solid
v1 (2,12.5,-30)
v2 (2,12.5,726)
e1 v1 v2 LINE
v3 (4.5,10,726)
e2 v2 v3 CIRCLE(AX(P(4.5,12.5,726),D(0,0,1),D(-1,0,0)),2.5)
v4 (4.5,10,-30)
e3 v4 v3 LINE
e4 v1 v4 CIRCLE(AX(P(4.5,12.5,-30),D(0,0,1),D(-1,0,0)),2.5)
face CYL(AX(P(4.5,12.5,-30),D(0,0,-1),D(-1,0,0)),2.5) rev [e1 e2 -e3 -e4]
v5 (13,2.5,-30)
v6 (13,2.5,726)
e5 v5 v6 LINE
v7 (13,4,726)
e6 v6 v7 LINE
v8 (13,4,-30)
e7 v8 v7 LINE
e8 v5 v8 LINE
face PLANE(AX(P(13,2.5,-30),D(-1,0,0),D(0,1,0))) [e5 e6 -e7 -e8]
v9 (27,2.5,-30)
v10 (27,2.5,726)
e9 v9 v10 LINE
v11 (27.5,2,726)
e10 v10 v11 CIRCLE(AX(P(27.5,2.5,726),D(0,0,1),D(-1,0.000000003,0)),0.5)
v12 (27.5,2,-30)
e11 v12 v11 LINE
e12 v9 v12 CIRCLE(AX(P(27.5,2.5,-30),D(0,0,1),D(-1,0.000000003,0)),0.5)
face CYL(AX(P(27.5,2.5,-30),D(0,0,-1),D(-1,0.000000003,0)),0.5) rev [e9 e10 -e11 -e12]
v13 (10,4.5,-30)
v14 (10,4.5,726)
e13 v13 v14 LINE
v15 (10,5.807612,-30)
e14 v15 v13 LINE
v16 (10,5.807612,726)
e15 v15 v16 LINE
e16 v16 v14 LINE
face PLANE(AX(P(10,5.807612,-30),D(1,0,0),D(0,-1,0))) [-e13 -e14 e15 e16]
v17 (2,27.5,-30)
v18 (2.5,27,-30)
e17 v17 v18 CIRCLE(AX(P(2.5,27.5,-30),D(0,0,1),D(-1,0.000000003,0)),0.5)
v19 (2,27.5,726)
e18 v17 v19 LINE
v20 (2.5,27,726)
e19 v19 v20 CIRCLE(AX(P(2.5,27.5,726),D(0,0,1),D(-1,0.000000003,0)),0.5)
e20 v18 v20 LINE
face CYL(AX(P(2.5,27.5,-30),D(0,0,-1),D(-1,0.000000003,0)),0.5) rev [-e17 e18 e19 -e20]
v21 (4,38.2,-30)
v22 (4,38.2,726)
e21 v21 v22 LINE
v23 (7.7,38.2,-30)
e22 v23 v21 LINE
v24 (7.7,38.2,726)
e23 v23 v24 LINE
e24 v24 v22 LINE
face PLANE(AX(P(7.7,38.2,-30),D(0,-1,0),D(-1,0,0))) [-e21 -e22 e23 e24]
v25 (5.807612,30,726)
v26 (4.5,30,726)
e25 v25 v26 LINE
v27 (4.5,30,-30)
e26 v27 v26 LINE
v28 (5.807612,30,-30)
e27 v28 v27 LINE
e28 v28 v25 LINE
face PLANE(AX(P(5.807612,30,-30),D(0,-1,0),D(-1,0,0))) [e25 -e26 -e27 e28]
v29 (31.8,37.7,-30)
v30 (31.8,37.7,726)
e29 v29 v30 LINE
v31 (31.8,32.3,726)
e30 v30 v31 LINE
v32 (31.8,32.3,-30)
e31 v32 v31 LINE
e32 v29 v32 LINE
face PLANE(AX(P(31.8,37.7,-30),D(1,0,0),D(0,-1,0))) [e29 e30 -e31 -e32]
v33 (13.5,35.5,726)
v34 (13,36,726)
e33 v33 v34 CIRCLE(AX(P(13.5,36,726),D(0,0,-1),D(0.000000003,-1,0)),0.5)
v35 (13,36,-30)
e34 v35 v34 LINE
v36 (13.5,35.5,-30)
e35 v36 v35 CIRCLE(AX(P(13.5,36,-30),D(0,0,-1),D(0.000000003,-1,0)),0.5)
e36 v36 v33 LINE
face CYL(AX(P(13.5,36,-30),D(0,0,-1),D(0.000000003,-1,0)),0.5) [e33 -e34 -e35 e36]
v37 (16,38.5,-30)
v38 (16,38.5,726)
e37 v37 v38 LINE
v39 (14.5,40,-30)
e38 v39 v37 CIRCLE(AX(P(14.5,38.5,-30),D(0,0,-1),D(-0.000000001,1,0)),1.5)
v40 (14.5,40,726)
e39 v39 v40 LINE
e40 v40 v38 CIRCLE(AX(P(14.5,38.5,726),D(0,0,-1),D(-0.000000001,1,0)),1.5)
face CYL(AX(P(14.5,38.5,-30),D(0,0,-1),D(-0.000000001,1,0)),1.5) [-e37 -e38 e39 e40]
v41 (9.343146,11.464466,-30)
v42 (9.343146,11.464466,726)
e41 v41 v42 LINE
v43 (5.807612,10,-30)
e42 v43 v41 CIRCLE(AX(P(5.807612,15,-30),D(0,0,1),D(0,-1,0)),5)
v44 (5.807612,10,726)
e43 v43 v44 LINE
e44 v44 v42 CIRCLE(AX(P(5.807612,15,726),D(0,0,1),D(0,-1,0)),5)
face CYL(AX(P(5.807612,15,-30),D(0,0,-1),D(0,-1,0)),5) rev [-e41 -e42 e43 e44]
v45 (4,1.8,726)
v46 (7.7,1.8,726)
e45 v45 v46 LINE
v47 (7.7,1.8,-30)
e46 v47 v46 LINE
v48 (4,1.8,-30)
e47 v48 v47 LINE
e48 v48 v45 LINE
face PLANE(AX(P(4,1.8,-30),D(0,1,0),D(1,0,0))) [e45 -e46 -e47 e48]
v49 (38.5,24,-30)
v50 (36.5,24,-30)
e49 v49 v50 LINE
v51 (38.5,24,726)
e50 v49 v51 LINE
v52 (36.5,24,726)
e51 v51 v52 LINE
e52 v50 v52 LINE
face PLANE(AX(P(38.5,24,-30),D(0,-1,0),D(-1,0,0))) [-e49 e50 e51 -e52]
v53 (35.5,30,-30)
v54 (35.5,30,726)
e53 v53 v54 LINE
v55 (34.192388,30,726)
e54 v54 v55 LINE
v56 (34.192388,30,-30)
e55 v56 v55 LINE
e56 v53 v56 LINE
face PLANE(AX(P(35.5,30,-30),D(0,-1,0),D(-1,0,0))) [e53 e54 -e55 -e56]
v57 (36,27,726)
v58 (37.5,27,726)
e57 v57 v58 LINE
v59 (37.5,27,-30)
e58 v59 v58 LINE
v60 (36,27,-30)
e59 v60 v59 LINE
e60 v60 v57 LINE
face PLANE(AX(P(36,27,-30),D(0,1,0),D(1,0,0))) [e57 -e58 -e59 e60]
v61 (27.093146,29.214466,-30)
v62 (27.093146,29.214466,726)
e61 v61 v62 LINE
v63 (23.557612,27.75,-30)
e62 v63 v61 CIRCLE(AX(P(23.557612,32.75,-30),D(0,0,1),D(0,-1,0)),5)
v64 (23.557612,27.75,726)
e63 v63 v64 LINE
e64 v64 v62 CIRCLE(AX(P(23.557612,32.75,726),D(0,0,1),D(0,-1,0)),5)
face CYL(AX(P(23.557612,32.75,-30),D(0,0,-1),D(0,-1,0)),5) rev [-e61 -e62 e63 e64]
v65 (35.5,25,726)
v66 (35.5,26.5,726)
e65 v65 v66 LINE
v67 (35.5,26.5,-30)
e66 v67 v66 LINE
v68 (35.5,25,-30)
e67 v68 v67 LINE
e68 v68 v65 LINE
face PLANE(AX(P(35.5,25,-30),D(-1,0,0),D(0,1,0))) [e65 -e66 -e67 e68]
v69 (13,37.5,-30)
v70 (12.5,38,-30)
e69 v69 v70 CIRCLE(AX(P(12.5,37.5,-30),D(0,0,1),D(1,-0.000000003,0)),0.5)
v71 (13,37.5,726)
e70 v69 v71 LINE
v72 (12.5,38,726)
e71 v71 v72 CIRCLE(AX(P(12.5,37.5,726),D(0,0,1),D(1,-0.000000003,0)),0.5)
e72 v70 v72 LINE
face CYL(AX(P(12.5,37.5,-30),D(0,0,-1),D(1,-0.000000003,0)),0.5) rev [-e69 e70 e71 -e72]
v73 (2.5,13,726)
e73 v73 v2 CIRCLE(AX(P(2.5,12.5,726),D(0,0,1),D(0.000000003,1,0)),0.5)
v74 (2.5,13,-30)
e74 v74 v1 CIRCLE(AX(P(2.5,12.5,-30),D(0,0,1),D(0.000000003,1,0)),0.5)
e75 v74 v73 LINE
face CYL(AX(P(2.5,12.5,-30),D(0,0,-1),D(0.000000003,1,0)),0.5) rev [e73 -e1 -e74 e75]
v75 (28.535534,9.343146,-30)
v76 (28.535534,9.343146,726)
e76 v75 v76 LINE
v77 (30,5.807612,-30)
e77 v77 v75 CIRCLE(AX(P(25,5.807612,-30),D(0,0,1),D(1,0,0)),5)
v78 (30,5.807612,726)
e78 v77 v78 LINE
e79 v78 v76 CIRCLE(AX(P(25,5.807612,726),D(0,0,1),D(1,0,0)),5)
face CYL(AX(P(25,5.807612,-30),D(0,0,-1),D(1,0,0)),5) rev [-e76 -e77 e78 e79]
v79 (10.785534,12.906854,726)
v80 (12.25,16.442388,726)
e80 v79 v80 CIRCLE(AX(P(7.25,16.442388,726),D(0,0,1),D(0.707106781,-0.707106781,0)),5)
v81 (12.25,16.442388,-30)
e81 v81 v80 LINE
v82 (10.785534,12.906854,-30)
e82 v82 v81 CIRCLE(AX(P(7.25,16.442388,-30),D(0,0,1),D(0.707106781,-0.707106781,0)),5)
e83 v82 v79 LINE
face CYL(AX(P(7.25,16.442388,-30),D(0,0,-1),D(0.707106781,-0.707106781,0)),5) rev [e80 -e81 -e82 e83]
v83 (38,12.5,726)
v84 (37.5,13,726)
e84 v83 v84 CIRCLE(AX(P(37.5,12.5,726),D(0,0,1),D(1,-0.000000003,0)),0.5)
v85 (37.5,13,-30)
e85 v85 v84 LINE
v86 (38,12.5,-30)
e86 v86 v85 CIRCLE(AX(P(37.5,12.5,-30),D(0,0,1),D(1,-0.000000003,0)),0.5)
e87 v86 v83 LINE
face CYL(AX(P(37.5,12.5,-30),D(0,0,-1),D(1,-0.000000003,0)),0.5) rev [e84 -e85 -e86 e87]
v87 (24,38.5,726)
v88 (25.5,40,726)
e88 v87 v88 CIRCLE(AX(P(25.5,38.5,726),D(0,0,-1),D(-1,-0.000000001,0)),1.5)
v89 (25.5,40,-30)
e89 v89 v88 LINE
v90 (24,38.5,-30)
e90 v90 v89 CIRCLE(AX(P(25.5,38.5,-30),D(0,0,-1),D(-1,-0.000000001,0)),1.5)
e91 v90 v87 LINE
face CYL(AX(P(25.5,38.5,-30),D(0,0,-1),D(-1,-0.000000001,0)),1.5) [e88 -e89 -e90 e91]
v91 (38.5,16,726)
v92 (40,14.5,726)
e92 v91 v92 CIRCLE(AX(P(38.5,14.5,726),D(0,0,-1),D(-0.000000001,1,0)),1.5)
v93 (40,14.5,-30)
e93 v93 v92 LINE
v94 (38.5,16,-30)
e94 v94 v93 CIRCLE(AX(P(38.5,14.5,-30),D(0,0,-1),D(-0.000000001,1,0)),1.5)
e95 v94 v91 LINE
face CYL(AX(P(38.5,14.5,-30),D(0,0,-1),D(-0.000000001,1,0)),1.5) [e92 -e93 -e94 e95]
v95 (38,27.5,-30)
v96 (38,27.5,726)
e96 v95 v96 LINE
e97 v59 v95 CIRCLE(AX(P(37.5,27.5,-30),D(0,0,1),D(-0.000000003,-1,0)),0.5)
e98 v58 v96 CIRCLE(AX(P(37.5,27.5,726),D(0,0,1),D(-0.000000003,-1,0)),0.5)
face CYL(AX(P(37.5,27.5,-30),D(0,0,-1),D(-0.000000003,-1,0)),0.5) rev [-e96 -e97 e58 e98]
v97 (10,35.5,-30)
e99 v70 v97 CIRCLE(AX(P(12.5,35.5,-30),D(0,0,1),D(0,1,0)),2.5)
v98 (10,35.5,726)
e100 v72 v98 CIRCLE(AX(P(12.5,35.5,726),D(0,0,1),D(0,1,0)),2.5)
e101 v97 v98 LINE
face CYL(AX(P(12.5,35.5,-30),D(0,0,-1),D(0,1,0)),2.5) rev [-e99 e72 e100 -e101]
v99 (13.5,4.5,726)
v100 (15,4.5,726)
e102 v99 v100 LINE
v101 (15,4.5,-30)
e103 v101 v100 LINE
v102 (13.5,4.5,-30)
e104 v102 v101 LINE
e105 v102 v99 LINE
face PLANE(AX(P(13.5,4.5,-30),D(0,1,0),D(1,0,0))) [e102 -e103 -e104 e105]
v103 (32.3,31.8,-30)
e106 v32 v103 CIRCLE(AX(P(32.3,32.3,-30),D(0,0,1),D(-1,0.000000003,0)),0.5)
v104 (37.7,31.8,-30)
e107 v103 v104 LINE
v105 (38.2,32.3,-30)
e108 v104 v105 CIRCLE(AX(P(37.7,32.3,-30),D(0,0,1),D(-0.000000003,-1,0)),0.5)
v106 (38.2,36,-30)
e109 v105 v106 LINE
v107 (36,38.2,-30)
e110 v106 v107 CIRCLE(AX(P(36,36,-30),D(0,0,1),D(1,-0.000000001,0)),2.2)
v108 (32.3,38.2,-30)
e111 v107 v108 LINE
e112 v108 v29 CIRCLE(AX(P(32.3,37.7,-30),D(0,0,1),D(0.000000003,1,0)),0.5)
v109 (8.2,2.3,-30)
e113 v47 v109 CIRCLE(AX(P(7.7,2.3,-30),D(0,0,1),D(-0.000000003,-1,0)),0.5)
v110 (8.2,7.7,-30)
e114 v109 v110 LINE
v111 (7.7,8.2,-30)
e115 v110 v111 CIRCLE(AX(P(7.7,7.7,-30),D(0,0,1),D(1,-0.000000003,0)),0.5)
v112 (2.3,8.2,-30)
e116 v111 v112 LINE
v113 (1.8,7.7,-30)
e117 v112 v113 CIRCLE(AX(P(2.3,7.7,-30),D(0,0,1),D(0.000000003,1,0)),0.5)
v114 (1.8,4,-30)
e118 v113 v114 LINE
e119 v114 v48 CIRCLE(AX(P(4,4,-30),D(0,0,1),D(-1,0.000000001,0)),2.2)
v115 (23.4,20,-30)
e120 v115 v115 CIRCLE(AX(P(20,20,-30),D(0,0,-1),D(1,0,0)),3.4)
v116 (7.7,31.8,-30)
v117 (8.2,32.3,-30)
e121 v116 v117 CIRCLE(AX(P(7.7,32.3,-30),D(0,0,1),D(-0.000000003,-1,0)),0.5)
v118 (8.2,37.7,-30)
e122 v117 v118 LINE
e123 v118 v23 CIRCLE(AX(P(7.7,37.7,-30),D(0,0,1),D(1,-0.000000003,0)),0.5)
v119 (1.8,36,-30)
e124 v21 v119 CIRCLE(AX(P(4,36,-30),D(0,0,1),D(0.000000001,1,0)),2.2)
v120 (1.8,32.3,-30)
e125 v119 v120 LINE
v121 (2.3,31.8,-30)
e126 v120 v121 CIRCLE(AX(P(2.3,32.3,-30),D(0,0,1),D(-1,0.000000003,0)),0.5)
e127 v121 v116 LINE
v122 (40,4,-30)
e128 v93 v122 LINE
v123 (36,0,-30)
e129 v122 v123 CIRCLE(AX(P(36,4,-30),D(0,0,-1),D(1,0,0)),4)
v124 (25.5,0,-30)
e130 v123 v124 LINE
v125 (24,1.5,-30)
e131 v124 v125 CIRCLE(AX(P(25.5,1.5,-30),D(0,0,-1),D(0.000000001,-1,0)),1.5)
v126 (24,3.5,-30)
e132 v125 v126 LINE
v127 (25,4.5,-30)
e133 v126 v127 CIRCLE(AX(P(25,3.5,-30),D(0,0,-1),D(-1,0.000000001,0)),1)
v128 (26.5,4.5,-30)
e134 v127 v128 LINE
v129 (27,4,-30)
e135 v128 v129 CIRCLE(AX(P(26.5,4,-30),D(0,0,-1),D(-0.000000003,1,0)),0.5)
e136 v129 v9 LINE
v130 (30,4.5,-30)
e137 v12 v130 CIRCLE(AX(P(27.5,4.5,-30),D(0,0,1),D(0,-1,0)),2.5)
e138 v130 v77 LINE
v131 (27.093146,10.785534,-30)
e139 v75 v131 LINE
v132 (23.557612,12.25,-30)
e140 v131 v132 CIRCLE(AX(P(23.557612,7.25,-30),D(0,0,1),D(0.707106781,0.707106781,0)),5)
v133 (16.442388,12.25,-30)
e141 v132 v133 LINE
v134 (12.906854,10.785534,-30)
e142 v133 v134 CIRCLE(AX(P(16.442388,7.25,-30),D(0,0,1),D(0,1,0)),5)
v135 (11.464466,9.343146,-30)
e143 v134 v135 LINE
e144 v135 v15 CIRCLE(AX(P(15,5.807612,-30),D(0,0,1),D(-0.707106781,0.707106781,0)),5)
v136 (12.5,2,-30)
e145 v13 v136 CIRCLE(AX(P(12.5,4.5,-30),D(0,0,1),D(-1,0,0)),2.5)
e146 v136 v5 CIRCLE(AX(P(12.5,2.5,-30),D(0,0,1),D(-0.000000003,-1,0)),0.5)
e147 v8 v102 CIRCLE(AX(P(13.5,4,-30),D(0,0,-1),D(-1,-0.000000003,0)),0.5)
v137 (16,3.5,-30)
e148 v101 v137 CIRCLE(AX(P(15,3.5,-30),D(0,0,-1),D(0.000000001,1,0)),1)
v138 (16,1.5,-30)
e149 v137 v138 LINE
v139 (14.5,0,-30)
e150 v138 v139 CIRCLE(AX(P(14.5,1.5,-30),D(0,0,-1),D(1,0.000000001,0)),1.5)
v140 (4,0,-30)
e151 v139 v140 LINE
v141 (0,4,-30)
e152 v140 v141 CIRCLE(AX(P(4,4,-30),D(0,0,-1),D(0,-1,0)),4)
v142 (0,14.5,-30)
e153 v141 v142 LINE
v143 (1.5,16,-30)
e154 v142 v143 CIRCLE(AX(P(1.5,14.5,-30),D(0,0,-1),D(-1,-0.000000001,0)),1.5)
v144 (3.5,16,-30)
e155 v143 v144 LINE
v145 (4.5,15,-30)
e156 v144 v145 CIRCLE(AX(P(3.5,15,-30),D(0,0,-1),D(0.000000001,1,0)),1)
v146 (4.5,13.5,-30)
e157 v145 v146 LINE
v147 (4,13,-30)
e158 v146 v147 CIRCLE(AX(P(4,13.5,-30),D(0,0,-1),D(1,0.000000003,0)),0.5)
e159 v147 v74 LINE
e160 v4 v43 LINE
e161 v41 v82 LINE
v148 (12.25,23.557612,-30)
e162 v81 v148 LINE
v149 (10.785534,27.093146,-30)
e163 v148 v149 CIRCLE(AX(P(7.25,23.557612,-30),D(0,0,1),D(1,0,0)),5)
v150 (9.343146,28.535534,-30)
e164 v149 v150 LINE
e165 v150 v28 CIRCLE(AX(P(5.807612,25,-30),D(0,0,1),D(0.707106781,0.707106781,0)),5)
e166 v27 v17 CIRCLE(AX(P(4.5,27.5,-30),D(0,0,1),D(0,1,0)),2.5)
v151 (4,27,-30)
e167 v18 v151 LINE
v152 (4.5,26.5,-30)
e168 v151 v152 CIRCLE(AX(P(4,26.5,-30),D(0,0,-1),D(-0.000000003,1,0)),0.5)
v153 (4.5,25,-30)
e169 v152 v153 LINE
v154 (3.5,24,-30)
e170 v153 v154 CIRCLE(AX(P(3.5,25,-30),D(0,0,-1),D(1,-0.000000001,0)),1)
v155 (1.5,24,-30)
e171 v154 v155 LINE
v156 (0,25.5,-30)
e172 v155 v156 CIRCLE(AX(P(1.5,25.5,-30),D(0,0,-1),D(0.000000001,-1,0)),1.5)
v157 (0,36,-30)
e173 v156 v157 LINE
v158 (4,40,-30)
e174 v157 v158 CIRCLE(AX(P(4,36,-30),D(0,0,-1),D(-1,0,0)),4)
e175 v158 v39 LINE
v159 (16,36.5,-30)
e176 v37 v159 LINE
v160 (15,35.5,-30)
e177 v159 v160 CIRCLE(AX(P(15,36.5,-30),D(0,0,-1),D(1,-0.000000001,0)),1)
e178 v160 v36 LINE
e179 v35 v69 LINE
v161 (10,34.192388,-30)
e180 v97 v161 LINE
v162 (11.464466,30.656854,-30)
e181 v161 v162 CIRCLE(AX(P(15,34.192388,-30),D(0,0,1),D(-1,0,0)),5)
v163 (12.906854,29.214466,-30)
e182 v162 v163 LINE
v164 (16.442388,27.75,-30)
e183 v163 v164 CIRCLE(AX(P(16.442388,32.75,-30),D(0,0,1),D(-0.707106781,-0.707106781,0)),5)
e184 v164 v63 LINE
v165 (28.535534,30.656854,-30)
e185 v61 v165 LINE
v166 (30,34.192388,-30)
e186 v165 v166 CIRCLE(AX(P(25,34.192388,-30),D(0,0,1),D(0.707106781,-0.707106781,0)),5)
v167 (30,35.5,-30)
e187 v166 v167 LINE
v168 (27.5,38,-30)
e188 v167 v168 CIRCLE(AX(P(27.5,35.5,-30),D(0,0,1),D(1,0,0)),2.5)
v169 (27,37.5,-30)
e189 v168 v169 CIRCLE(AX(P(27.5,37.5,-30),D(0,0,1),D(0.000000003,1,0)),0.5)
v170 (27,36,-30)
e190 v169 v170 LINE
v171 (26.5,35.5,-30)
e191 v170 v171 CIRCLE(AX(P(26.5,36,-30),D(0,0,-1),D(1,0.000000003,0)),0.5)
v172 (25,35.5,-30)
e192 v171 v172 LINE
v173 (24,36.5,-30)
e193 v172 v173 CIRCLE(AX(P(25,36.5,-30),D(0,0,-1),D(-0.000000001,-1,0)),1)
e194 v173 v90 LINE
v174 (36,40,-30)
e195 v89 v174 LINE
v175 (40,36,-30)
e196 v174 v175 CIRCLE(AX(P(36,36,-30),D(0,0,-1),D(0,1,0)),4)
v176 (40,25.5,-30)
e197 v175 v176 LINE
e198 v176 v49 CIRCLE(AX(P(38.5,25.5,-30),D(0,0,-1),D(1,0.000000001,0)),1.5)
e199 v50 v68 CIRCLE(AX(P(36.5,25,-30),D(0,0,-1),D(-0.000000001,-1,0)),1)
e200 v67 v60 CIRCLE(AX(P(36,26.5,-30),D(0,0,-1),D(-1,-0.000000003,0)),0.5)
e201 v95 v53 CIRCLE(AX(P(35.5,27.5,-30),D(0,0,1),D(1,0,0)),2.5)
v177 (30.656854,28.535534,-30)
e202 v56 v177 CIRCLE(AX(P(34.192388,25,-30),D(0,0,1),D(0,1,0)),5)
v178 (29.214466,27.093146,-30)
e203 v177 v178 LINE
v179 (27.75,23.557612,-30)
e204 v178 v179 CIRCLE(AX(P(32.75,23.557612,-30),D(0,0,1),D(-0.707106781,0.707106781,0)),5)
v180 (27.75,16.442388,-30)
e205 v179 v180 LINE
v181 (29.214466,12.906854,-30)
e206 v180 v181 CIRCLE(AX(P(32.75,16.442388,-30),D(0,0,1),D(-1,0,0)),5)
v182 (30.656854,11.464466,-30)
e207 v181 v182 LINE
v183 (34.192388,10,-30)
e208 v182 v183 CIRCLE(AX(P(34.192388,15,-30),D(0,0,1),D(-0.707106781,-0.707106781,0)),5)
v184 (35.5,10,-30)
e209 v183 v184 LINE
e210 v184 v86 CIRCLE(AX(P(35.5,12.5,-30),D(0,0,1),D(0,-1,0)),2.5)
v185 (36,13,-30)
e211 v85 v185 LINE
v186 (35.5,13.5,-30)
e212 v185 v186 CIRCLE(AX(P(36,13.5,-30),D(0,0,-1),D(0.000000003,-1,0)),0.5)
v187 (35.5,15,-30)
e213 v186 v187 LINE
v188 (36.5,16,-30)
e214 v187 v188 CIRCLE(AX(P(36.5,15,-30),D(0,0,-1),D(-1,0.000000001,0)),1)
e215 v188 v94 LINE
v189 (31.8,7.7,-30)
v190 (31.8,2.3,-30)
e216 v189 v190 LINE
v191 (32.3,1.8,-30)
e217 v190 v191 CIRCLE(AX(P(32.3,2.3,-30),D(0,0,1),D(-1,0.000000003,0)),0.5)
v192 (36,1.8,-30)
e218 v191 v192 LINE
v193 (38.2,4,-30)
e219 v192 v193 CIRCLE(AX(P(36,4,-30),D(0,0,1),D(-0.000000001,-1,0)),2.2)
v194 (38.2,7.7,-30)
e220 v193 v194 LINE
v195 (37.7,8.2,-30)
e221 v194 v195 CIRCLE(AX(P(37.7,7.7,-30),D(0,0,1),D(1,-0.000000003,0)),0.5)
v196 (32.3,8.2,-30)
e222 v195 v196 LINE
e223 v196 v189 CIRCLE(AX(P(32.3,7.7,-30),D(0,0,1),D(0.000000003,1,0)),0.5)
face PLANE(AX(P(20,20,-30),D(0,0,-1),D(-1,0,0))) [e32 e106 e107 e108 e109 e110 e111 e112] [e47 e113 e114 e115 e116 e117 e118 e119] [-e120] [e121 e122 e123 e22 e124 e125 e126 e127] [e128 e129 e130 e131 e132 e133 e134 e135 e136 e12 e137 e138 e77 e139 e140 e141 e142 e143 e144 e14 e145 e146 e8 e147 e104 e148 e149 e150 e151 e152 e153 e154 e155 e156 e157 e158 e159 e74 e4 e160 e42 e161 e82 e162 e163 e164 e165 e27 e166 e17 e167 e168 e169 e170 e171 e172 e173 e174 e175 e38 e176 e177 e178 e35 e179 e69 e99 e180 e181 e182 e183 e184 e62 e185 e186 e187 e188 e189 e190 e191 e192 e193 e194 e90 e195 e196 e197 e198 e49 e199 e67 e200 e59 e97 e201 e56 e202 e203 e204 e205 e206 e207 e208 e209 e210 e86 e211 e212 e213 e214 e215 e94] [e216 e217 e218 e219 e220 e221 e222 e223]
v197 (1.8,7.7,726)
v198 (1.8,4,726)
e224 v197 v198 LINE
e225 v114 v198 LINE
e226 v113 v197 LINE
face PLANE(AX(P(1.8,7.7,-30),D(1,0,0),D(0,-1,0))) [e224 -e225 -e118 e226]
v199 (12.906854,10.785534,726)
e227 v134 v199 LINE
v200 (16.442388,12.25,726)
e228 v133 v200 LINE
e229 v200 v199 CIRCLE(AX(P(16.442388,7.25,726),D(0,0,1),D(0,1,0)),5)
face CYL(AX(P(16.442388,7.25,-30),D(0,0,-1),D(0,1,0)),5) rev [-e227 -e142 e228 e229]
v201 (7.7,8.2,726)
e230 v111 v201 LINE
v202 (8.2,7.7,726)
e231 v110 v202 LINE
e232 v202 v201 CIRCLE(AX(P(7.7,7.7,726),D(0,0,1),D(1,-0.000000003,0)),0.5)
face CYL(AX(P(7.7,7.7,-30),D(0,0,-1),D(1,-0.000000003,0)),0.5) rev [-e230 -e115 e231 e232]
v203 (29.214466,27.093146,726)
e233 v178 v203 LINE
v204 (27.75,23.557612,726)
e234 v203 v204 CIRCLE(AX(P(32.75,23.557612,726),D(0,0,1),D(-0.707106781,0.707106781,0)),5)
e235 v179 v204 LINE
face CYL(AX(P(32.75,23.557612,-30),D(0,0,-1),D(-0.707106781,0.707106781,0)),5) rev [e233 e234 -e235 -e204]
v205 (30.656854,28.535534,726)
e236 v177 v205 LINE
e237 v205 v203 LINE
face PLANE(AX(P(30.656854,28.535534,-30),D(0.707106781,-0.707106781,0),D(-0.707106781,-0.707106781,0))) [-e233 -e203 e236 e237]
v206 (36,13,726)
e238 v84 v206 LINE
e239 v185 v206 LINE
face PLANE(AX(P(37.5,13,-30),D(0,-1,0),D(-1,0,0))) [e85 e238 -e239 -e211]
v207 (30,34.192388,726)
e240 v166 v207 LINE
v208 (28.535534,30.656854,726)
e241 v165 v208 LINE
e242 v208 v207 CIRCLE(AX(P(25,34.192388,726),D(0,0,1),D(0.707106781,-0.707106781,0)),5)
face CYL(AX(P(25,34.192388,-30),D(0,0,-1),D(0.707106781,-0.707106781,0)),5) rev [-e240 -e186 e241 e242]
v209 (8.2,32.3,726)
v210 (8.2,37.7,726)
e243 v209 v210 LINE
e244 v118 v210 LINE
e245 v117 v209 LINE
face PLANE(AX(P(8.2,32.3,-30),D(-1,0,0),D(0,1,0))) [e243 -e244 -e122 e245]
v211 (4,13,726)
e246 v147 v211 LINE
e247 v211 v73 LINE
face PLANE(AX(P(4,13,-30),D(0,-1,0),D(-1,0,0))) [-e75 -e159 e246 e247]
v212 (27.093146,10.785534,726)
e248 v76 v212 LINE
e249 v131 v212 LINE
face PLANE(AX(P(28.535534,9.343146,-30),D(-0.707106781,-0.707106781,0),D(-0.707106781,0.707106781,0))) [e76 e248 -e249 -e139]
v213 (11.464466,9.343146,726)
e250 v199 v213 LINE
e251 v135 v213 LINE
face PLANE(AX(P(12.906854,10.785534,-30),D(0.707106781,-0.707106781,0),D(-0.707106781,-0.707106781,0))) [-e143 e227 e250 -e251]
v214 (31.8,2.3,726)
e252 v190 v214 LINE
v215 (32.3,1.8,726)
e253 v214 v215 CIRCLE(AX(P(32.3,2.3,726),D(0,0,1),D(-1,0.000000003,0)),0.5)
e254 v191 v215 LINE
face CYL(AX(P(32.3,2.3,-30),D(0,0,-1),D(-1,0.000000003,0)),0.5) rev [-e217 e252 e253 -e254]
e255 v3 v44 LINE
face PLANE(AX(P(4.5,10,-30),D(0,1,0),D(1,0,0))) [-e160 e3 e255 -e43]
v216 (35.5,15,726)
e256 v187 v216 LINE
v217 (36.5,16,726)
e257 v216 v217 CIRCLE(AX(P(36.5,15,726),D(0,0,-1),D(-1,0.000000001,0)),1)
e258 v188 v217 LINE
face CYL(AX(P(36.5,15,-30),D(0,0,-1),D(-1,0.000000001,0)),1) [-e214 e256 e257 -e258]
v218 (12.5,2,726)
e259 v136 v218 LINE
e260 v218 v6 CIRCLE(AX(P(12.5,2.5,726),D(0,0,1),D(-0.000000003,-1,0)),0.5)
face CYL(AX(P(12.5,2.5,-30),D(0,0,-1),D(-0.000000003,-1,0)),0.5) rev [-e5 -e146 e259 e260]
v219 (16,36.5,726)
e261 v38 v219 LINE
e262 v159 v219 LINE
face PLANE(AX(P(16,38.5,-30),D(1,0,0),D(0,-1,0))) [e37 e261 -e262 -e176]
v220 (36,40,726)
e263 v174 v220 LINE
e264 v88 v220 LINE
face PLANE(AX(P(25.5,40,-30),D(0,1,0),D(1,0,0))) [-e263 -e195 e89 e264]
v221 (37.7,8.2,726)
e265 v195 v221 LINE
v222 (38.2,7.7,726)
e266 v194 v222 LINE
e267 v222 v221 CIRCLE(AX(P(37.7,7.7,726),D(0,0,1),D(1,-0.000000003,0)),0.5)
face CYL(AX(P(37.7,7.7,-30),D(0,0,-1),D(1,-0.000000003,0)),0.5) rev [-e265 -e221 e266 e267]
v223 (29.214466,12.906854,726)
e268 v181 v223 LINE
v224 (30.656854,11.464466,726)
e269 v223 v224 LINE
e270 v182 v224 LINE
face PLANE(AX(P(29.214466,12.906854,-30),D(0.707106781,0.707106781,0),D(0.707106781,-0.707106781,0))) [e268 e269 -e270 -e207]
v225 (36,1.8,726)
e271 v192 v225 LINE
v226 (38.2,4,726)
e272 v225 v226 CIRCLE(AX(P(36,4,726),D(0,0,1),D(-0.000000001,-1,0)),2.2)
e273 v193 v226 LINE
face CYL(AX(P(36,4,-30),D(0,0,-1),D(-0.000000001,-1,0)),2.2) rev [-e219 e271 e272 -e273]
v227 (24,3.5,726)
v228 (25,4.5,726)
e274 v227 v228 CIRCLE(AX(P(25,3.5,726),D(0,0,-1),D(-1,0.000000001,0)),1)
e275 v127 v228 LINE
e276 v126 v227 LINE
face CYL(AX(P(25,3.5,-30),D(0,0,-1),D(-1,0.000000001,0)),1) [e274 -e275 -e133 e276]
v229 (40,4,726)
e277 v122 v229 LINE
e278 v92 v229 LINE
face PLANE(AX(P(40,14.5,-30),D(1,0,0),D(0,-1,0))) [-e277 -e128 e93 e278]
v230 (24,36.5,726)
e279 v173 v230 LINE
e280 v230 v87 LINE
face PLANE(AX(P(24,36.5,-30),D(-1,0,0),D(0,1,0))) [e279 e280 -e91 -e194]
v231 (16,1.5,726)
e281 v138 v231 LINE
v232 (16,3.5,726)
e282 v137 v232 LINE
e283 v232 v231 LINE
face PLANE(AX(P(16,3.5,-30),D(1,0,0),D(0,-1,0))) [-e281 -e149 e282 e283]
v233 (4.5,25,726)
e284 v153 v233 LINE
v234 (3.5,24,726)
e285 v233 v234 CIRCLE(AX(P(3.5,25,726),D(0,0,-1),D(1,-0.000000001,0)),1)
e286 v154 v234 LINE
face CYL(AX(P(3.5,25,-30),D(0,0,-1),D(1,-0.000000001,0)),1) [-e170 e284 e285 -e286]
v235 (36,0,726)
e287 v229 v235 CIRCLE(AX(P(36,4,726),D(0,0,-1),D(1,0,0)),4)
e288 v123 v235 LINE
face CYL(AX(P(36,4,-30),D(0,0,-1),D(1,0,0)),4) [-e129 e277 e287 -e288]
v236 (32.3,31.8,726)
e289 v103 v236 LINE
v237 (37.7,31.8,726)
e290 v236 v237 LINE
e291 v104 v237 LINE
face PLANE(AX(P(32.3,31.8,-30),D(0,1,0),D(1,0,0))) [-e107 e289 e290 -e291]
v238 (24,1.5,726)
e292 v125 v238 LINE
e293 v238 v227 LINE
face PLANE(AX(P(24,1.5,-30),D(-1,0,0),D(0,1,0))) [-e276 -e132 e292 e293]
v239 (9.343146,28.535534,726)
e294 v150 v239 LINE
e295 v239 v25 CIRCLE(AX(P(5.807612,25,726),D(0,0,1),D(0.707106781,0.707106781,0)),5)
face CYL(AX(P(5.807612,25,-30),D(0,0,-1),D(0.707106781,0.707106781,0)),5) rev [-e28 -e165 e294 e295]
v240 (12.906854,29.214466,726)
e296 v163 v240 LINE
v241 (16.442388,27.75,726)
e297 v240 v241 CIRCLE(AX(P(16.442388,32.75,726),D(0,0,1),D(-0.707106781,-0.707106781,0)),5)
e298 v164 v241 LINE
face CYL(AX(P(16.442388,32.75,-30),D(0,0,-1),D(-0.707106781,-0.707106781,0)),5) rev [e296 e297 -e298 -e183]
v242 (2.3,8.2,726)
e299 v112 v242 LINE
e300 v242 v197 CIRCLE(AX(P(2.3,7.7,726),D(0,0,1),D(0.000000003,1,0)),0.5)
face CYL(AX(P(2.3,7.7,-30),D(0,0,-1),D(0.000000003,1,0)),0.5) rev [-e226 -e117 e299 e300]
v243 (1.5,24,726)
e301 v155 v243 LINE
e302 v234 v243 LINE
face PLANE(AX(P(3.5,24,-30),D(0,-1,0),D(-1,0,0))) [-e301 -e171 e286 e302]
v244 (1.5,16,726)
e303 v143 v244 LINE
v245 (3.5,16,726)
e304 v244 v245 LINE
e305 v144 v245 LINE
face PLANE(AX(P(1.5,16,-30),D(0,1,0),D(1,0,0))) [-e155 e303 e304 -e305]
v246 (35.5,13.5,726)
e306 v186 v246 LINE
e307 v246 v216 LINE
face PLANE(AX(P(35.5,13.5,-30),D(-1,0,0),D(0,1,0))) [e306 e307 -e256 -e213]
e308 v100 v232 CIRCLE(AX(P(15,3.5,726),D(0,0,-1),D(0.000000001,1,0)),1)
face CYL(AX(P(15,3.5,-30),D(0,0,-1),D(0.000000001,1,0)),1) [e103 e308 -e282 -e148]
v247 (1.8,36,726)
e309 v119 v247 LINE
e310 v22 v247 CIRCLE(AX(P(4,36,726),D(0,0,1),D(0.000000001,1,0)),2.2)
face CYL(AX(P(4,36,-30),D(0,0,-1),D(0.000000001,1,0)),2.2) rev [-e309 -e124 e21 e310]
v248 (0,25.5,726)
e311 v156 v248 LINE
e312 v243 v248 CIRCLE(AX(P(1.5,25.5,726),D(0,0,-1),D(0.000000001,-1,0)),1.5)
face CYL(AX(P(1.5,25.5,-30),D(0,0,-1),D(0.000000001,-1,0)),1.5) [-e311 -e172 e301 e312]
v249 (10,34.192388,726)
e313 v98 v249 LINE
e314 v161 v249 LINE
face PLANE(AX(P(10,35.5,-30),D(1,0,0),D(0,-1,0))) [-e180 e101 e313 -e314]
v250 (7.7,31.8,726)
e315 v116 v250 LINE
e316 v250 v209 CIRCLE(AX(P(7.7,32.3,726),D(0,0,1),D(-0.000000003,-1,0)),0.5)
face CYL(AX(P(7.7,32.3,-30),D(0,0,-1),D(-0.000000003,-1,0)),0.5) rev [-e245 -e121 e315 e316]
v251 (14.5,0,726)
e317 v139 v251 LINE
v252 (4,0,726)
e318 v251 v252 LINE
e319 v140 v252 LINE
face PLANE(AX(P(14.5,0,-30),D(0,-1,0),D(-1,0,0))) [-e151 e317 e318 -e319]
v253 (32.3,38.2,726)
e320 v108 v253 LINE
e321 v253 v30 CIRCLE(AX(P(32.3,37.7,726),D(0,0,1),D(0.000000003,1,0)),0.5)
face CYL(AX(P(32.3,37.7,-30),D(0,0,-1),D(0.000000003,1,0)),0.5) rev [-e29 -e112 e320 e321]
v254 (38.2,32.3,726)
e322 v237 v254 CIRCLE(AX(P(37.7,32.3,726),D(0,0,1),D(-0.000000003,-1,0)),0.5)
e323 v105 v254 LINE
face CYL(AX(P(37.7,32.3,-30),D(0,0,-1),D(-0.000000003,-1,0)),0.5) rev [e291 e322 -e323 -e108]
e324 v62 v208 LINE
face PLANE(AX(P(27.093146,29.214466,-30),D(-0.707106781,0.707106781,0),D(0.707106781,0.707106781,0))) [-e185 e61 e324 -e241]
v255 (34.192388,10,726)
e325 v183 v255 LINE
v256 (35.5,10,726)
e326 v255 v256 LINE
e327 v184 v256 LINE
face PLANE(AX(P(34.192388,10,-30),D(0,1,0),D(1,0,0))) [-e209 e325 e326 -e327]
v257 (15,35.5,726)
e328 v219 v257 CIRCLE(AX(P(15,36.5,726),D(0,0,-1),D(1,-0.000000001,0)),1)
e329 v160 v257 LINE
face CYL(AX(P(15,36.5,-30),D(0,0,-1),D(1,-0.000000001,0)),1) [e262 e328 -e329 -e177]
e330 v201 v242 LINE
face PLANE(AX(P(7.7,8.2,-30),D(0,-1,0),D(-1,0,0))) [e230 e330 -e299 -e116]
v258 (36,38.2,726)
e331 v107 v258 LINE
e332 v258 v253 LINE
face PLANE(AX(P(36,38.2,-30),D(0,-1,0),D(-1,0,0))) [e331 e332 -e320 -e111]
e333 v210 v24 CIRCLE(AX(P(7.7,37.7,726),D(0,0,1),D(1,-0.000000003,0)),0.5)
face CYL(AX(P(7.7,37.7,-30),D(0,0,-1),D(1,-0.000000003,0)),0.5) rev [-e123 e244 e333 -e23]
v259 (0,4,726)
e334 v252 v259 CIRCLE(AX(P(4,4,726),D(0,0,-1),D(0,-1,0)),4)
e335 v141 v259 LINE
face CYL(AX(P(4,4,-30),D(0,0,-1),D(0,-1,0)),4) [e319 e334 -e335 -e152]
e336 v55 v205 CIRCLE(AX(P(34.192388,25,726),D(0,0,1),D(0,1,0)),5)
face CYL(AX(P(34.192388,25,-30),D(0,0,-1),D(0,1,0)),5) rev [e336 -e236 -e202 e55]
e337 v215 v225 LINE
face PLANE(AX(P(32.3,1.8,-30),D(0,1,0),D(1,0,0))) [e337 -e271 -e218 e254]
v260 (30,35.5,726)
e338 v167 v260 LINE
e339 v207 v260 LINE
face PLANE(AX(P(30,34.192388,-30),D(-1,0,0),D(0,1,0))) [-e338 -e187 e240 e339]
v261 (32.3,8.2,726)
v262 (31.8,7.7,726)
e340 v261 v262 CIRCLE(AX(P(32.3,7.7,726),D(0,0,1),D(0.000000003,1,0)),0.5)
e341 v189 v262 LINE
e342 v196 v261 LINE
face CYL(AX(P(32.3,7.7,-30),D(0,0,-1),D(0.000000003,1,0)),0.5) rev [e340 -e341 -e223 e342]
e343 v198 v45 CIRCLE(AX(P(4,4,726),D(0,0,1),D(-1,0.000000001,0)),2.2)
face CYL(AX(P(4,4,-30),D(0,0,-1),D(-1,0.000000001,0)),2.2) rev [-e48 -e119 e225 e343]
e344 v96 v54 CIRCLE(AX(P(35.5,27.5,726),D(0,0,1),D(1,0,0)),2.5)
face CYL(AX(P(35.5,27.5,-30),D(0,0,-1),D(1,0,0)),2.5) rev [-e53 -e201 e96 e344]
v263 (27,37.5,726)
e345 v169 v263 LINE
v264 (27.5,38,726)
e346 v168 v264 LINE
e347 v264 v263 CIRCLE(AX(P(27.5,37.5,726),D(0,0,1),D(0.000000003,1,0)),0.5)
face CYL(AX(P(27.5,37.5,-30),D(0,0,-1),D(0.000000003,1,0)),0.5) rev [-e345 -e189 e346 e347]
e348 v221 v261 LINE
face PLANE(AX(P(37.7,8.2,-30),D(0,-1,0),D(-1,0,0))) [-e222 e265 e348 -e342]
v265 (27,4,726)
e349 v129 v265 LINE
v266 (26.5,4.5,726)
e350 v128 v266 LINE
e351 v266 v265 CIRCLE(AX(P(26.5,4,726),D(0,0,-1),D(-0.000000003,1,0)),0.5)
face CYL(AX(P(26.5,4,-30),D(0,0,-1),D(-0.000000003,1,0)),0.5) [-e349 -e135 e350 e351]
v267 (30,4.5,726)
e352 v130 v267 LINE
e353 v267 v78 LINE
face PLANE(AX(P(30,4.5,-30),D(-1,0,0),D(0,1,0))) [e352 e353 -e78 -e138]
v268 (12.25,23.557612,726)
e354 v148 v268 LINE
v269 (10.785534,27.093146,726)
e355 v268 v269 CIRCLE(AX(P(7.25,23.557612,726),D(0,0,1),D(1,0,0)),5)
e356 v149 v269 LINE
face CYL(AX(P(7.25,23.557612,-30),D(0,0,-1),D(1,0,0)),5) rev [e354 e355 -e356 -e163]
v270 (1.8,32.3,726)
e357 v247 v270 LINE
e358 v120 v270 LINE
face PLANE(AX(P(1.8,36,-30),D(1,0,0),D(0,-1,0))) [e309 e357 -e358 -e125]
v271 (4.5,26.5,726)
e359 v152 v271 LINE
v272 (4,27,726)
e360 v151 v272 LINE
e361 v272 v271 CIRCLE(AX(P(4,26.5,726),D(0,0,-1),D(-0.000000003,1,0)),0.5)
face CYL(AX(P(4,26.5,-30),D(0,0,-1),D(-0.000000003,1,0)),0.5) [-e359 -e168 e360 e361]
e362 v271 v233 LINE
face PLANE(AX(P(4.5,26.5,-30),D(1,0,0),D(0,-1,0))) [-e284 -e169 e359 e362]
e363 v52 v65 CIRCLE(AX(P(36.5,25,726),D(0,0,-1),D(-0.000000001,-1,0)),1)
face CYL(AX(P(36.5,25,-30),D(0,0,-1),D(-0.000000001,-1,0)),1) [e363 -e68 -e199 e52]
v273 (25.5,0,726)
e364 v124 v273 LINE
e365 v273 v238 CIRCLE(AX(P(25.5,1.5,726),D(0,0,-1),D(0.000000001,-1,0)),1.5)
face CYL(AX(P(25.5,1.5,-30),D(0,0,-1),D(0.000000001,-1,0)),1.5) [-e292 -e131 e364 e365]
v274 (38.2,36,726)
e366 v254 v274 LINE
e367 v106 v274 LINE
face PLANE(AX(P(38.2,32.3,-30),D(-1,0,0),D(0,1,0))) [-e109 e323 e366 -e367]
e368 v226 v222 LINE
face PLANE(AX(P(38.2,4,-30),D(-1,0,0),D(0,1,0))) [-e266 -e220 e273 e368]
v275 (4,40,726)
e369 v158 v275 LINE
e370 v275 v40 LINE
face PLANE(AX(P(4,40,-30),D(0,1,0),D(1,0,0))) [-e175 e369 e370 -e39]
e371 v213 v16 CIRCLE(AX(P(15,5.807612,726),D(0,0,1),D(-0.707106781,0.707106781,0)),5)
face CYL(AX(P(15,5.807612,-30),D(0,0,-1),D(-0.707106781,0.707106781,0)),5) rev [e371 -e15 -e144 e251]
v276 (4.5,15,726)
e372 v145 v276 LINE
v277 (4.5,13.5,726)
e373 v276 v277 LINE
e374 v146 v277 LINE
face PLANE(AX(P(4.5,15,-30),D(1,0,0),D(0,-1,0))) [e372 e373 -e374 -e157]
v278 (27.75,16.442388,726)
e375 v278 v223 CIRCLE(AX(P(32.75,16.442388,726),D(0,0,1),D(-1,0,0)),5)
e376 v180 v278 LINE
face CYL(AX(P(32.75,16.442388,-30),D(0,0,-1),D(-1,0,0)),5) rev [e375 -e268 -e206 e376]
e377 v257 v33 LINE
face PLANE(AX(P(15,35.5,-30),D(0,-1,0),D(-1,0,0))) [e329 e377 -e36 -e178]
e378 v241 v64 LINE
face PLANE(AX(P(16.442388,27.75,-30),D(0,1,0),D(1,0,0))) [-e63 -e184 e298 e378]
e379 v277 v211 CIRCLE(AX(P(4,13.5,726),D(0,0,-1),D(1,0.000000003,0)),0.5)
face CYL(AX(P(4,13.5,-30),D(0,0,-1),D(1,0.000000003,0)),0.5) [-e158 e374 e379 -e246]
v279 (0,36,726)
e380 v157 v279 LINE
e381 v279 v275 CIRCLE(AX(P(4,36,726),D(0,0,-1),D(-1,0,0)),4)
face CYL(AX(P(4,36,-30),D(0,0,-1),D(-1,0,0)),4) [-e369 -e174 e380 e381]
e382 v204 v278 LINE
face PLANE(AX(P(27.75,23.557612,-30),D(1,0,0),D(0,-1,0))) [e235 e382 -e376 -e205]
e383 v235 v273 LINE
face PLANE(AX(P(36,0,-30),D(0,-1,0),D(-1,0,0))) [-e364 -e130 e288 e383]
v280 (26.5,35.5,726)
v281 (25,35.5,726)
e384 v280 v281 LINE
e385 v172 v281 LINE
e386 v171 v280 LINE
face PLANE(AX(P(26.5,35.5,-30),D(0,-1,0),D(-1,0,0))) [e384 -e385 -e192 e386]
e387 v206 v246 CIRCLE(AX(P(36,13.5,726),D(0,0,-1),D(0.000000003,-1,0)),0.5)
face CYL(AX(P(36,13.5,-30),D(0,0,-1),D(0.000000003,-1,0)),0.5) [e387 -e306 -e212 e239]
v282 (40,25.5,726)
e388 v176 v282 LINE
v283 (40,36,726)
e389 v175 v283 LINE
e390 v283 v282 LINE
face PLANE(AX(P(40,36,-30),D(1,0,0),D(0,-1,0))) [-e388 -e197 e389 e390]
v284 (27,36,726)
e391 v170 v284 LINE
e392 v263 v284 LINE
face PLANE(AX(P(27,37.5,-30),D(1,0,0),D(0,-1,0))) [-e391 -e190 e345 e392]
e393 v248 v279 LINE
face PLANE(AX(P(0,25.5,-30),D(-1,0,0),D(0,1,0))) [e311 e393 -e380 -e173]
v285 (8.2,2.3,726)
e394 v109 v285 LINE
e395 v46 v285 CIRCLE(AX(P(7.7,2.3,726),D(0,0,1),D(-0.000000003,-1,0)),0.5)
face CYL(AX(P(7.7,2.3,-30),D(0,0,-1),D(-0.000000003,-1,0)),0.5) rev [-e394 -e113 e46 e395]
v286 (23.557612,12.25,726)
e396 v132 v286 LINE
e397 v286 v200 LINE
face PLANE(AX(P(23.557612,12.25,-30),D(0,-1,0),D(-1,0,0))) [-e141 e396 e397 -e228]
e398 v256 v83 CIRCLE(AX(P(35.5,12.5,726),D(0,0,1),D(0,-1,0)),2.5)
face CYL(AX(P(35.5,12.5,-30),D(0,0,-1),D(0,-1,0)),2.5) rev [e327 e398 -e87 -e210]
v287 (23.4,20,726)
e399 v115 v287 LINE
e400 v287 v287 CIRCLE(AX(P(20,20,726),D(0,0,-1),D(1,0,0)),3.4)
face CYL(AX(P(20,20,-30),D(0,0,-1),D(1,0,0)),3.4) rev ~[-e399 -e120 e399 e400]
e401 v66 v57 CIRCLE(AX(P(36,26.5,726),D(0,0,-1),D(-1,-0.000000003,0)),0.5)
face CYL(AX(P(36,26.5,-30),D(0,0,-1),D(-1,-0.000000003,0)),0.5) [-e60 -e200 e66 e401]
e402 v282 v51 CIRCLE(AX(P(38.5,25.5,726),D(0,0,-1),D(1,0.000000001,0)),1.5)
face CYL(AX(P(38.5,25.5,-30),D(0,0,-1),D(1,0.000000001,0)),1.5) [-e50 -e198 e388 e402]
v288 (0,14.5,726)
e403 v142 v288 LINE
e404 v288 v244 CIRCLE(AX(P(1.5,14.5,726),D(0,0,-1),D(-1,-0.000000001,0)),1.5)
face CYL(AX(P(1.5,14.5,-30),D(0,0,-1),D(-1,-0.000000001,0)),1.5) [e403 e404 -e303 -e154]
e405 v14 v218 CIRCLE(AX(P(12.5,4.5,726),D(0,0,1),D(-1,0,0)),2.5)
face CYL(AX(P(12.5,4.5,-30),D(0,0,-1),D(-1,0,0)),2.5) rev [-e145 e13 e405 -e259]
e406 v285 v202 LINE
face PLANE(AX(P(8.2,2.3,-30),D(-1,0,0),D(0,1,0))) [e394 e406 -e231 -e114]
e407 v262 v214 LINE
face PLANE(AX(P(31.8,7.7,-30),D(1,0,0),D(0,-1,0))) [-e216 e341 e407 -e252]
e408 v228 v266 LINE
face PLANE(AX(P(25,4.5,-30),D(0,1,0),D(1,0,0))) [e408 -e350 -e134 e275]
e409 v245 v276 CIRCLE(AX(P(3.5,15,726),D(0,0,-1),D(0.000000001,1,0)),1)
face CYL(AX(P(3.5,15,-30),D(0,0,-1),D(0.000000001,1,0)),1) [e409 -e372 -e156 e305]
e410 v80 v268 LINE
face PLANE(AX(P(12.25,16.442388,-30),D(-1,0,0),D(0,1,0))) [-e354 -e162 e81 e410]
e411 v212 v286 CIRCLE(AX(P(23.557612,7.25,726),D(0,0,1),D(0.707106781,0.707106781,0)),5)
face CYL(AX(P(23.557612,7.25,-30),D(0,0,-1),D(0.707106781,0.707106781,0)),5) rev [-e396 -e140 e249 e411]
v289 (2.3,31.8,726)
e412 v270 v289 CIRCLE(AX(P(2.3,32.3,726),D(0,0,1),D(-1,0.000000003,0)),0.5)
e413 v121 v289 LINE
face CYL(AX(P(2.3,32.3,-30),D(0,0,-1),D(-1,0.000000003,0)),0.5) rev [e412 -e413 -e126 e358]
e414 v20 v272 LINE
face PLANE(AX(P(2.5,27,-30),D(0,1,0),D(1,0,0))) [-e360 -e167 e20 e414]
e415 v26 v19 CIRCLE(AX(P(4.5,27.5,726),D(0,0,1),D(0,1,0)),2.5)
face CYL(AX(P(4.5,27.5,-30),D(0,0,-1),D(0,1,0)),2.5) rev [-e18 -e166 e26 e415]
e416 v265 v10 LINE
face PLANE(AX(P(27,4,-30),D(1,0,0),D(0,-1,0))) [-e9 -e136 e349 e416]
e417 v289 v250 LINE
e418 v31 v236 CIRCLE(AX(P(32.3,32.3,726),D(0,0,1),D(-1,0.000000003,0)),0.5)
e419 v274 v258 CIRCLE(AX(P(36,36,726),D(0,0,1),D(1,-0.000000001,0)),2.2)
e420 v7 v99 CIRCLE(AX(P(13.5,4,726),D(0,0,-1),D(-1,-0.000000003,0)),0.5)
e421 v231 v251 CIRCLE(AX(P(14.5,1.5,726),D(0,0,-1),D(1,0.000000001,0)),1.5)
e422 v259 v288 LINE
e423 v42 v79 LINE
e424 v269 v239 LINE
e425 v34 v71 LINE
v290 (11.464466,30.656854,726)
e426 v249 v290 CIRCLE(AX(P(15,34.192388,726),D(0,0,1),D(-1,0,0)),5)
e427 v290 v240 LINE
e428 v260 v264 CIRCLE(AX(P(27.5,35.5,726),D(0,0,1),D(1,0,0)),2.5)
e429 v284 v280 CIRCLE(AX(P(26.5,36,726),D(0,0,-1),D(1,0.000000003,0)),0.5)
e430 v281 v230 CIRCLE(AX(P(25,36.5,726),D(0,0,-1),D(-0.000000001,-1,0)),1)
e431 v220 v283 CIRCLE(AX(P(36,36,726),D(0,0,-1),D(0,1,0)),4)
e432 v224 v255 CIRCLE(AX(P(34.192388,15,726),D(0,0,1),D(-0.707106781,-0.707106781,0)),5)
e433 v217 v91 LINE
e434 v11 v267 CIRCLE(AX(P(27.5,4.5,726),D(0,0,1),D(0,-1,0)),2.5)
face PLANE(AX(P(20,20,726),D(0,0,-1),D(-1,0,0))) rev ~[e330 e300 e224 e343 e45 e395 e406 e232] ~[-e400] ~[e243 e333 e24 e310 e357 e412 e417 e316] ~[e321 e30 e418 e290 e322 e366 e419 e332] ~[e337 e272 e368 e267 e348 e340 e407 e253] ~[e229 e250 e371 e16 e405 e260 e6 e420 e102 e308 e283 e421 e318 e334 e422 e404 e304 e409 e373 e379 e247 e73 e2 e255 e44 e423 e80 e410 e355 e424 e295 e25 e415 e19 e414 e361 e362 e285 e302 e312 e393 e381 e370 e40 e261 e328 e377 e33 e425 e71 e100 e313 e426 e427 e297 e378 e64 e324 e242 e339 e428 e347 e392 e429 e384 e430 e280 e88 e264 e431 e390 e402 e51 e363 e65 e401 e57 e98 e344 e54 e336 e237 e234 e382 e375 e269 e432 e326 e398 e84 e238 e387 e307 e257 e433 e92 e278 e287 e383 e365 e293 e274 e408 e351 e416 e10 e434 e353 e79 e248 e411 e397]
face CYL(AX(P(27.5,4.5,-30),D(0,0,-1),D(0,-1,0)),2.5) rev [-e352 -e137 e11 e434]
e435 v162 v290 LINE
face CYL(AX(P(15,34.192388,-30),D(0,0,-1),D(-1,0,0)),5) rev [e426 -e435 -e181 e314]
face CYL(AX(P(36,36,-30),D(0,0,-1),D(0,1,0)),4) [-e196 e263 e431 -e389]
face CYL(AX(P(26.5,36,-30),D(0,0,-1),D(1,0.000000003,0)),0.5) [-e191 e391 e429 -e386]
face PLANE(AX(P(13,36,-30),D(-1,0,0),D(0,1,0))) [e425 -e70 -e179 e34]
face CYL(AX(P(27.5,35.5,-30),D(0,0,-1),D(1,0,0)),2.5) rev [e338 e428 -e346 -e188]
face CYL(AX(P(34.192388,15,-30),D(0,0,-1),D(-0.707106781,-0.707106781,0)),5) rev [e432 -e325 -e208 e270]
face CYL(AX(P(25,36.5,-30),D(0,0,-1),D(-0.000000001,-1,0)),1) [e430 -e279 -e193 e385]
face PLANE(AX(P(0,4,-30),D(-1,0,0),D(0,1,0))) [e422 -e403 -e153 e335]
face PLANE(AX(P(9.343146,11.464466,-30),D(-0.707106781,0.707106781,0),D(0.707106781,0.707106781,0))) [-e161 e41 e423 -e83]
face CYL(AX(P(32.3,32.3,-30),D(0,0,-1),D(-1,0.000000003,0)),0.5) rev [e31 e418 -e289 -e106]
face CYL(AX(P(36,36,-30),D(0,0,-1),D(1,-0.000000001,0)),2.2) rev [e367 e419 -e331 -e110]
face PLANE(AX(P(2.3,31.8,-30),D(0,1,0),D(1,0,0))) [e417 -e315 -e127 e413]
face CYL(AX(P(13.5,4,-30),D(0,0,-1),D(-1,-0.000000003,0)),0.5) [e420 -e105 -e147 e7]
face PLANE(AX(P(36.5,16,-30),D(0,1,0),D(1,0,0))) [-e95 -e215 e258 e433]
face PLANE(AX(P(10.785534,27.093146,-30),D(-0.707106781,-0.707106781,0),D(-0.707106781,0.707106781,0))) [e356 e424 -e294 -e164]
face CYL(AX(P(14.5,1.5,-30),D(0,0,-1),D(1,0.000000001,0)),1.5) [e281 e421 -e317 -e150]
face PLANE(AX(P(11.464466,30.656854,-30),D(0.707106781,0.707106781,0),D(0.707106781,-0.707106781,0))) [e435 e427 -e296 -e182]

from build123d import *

# Parameters (mm, degrees)
ESQUISSE1_R        = 3.4
BOSS_EXTRU_1_DEPTH = 756


with BuildPart() as part:
    # Esquisse1 → Boss.-Extru.1 (new body)
    with BuildSketch(Plane(origin=(0, 0, -30), x_dir=(-1, 0, 0), z_dir=(0, 0, -1))):
        with BuildLine():
            Line((-4.5, 15), (-4.5, 13.5))
            ThreePointArc((-4.5, 13.5), (-4.353553391, 13.146446609), (-4, 13))
            Line((-4, 13), (-2.5, 13))
            ThreePointArc((-2.5, 13), (-2.146446609, 12.853553391), (-2, 12.5))
            ThreePointArc((-2, 12.5), (-2.732233047, 10.732233047), (-4.5, 10))
            Line((-4.5, 10), (-5.807611845, 10))
            ThreePointArc((-5.807611845, 10), (-7.721029006, 10.380602337), (-9.343145751, 11.464466094))
            Line((-9.343145751, 11.464466094), (-10.785533906, 12.906854249))
            ThreePointArc((-10.785533906, 12.906854249), (-11.869397663, 14.528970994), (-12.25, 16.442388155))
            Line((-12.25, 16.442388155), (-12.25, 23.557611845))
            ThreePointArc((-12.25, 23.557611845), (-11.869397663, 25.471029006), (-10.785533906, 27.093145751))
            Line((-10.785533906, 27.093145751), (-9.343145751, 28.535533906))
            ThreePointArc((-9.343145751, 28.535533906), (-7.721029006, 29.619397663), (-5.807611845, 30))
            Line((-5.807611845, 30), (-4.5, 30))
            ThreePointArc((-4.5, 30), (-2.732233047, 29.267766953), (-2, 27.5))
            ThreePointArc((-2, 27.5), (-2.146446609, 27.146446609), (-2.5, 27))
            Line((-2.5, 27), (-4, 27))
            ThreePointArc((-4, 27), (-4.353553391, 26.853553391), (-4.5, 26.5))
            Line((-4.5, 26.5), (-4.5, 25))
            ThreePointArc((-4.5, 25), (-4.207106781, 24.292893219), (-3.5, 24))
            Line((-3.5, 24), (-1.5, 24))
            ThreePointArc((-1.5, 24), (-0.439339828, 24.439339828), (0, 25.5))
            Line((0, 25.5), (0, 36))
            ThreePointArc((0, 36), (-1.171572875, 38.828427125), (-4, 40))
            Line((-4, 40), (-14.5, 40))
            ThreePointArc((-14.5, 40), (-15.560660172, 39.560660172), (-16, 38.5))
            Line((-16, 38.5), (-16, 36.5))
            ThreePointArc((-16, 36.5), (-15.707106781, 35.792893219), (-15, 35.5))
            Line((-15, 35.5), (-13.5, 35.5))
            ThreePointArc((-13.5, 35.5), (-13.146446609, 35.646446609), (-13, 36))
            Line((-13, 36), (-13, 37.5))
            ThreePointArc((-13, 37.5), (-12.853553391, 37.853553391), (-12.5, 38))
            ThreePointArc((-12.5, 38), (-10.732233047, 37.267766953), (-10, 35.5))
            Line((-10, 35.5), (-10, 34.192388155))
            ThreePointArc((-10, 34.192388155), (-10.380602337, 32.278970994), (-11.464466094, 30.656854249))
            Line((-11.464466094, 30.656854249), (-12.906854249, 29.214466094))
            ThreePointArc((-12.906854249, 29.214466094), (-14.528970994, 28.130602337), (-16.442388155, 27.75))
            Line((-16.442388155, 27.75), (-23.557611845, 27.75))
            ThreePointArc((-23.557611845, 27.75), (-25.471029006, 28.130602337), (-27.093145751, 29.214466094))
            Line((-27.093145751, 29.214466094), (-28.535533906, 30.656854249))
            ThreePointArc((-28.535533906, 30.656854249), (-29.619397663, 32.278970994), (-30, 34.192388155))
            Line((-30, 34.192388155), (-30, 35.5))
            ThreePointArc((-30, 35.5), (-29.267766953, 37.267766953), (-27.5, 38))
            ThreePointArc((-27.5, 38), (-27.146446609, 37.853553391), (-27, 37.5))
            Line((-27, 37.5), (-27, 36))
            ThreePointArc((-27, 36), (-26.853553391, 35.646446609), (-26.5, 35.5))
            Line((-26.5, 35.5), (-25, 35.5))
            ThreePointArc((-25, 35.5), (-24.292893219, 35.792893219), (-24, 36.5))
            Line((-24, 36.5), (-24, 38.5))
            ThreePointArc((-24, 38.5), (-24.439339828, 39.560660172), (-25.5, 40))
            Line((-25.5, 40), (-36, 40))
            ThreePointArc((-36, 40), (-38.828427125, 38.828427125), (-40, 36))
            Line((-40, 36), (-40, 25.5))
            ThreePointArc((-40, 25.5), (-39.560660172, 24.439339828), (-38.5, 24))
            Line((-38.5, 24), (-36.5, 24))
            ThreePointArc((-36.5, 24), (-35.792893219, 24.292893219), (-35.5, 25))
            Line((-35.5, 25), (-35.5, 26.5))
            ThreePointArc((-35.5, 26.5), (-35.646446609, 26.853553391), (-36, 27))
            Line((-36, 27), (-37.5, 27))
            ThreePointArc((-37.5, 27), (-37.853553391, 27.146446609), (-38, 27.5))
            ThreePointArc((-38, 27.5), (-37.267766953, 29.267766953), (-35.5, 30))
            Line((-35.5, 30), (-34.192388155, 30))
            ThreePointArc((-34.192388155, 30), (-32.278970994, 29.619397663), (-30.656854249, 28.535533906))
            Line((-30.656854249, 28.535533906), (-29.214466094, 27.093145751))
            ThreePointArc((-29.214466094, 27.093145751), (-28.130602337, 25.471029006), (-27.75, 23.557611845))
            Line((-27.75, 23.557611845), (-27.75, 16.442388155))
            ThreePointArc((-27.75, 16.442388155), (-28.130602337, 14.528970994), (-29.214466094, 12.906854249))
            Line((-29.214466094, 12.906854249), (-30.656854249, 11.464466094))
            ThreePointArc((-30.656854249, 11.464466094), (-32.278970994, 10.380602337), (-34.192388155, 10))
            Line((-34.192388155, 10), (-35.5, 10))
            ThreePointArc((-35.5, 10), (-37.267766953, 10.732233047), (-38, 12.5))
            ThreePointArc((-38, 12.5), (-37.853553391, 12.853553391), (-37.5, 13))
            Line((-37.5, 13), (-36, 13))
            ThreePointArc((-36, 13), (-35.646446609, 13.146446609), (-35.5, 13.5))
            Line((-35.5, 13.5), (-35.5, 15))
            ThreePointArc((-35.5, 15), (-35.792893219, 15.707106781), (-36.5, 16))
            Line((-36.5, 16), (-38.5, 16))
            ThreePointArc((-38.5, 16), (-39.560660172, 15.560660172), (-40, 14.5))
            Line((-40, 14.5), (-40, 4))
            ThreePointArc((-40, 4), (-38.828427125, 1.171572875), (-36, 0))
            Line((-36, 0), (-25.5, 0))
            ThreePointArc((-25.5, 0), (-24.439339828, 0.439339828), (-24, 1.5))
            Line((-24, 1.5), (-24, 3.5))
            ThreePointArc((-24, 3.5), (-24.292893219, 4.207106781), (-25, 4.5))
            Line((-25, 4.5), (-26.5, 4.5))
            ThreePointArc((-26.5, 4.5), (-26.853553391, 4.353553391), (-27, 4))
            Line((-27, 4), (-27, 2.5))
            ThreePointArc((-27, 2.5), (-27.146446609, 2.146446609), (-27.5, 2))
            ThreePointArc((-27.5, 2), (-29.267766953, 2.732233047), (-30, 4.5))
            Line((-30, 4.5), (-30, 5.807611845))
            ThreePointArc((-30, 5.807611845), (-29.619397663, 7.721029006), (-28.535533906, 9.343145751))
            Line((-28.535533906, 9.343145751), (-27.093145751, 10.785533906))
            ThreePointArc((-27.093145751, 10.785533906), (-25.471029006, 11.869397663), (-23.557611845, 12.25))
            Line((-23.557611845, 12.25), (-16.442388155, 12.25))
            ThreePointArc((-16.442388155, 12.25), (-14.528970994, 11.869397663), (-12.906854249, 10.785533906))
            Line((-12.906854249, 10.785533906), (-11.464466094, 9.343145751))
            ThreePointArc((-11.464466094, 9.343145751), (-10.380602337, 7.721029006), (-10, 5.807611845))
            Line((-10, 5.807611845), (-10, 4.5))
            ThreePointArc((-10, 4.5), (-10.732233047, 2.732233047), (-12.5, 2))
            ThreePointArc((-12.5, 2), (-12.853553391, 2.146446609), (-13, 2.5))
            Line((-13, 2.5), (-13, 4))
            ThreePointArc((-13, 4), (-13.146446609, 4.353553391), (-13.5, 4.5))
            Line((-13.5, 4.5), (-15, 4.5))
            ThreePointArc((-15, 4.5), (-15.707106781, 4.207106781), (-16, 3.5))
            Line((-16, 3.5), (-16, 1.5))
            ThreePointArc((-16, 1.5), (-15.560660172, 0.439339828), (-14.5, 0))
            Line((-14.5, 0), (-4, 0))
            ThreePointArc((-4, 0), (-1.171572875, 1.171572875), (0, 4))
            Line((0, 4), (0, 14.5))
            ThreePointArc((0, 14.5), (-0.439339828, 15.560660172), (-1.5, 16))
            Line((-1.5, 16), (-3.5, 16))
            ThreePointArc((-3.5, 16), (-4.207106781, 15.707106781), (-4.5, 15))
        make_face()
        with Locations(Location((-20, 20, 0), (0, 0, 180))):
            Circle(ESQUISSE1_R, mode=Mode.SUBTRACT)
        with BuildLine():
            Line((-4, 1.8), (-7.7, 1.8))
            ThreePointArc((-7.7, 1.8), (-8.053553391, 1.946446609), (-8.2, 2.3))
            Line((-8.2, 2.3), (-8.2, 7.7))
            ThreePointArc((-8.2, 7.7), (-8.053553391, 8.053553391), (-7.7, 8.2))
            Line((-7.7, 8.2), (-2.3, 8.2))
            ThreePointArc((-2.3, 8.2), (-1.946446609, 8.053553391), (-1.8, 7.7))
            Line((-1.8, 7.7), (-1.8, 4))
            ThreePointArc((-1.8, 4), (-2.444365081, 2.444365081), (-4, 1.8))
        make_face(mode=Mode.SUBTRACT)
        with BuildLine():
            Line((-38.2, 4), (-38.2, 7.7))
            ThreePointArc((-38.2, 7.7), (-38.053553391, 8.053553391), (-37.7, 8.2))
            Line((-37.7, 8.2), (-32.3, 8.2))
            ThreePointArc((-32.3, 8.2), (-31.946446609, 8.053553391), (-31.8, 7.7))
            Line((-31.8, 7.7), (-31.8, 2.3))
            ThreePointArc((-31.8, 2.3), (-31.946446609, 1.946446609), (-32.3, 1.8))
            Line((-32.3, 1.8), (-36, 1.8))
            ThreePointArc((-36, 1.8), (-37.555634919, 2.444365081), (-38.2, 4))
        make_face(mode=Mode.SUBTRACT)
        with BuildLine():
            Line((-36, 38.2), (-32.3, 38.2))
            ThreePointArc((-32.3, 38.2), (-31.946446609, 38.053553391), (-31.8, 37.7))
            Line((-31.8, 37.7), (-31.8, 32.3))
            ThreePointArc((-31.8, 32.3), (-31.946446609, 31.946446609), (-32.3, 31.8))
            Line((-32.3, 31.8), (-37.7, 31.8))
            ThreePointArc((-37.7, 31.8), (-38.053553391, 31.946446609), (-38.2, 32.3))
            Line((-38.2, 32.3), (-38.2, 36))
            ThreePointArc((-38.2, 36), (-37.555634919, 37.555634919), (-36, 38.2))
        make_face(mode=Mode.SUBTRACT)
        with BuildLine():
            Line((-1.8, 36), (-1.8, 32.3))
            ThreePointArc((-1.8, 32.3), (-1.946446609, 31.946446609), (-2.3, 31.8))
            Line((-2.3, 31.8), (-7.7, 31.8))
            ThreePointArc((-7.7, 31.8), (-8.053553391, 31.946446609), (-8.2, 32.3))
            Line((-8.2, 32.3), (-8.2, 37.7))
            ThreePointArc((-8.2, 37.7), (-8.053553391, 38.053553391), (-7.7, 38.2))
            Line((-7.7, 38.2), (-4, 38.2))
            ThreePointArc((-4, 38.2), (-2.444365081, 37.555634919), (-1.8, 36))
        make_face(mode=Mode.SUBTRACT)
    extrude(amount=-BOSS_EXTRU_1_DEPTH)


solid = part.part
